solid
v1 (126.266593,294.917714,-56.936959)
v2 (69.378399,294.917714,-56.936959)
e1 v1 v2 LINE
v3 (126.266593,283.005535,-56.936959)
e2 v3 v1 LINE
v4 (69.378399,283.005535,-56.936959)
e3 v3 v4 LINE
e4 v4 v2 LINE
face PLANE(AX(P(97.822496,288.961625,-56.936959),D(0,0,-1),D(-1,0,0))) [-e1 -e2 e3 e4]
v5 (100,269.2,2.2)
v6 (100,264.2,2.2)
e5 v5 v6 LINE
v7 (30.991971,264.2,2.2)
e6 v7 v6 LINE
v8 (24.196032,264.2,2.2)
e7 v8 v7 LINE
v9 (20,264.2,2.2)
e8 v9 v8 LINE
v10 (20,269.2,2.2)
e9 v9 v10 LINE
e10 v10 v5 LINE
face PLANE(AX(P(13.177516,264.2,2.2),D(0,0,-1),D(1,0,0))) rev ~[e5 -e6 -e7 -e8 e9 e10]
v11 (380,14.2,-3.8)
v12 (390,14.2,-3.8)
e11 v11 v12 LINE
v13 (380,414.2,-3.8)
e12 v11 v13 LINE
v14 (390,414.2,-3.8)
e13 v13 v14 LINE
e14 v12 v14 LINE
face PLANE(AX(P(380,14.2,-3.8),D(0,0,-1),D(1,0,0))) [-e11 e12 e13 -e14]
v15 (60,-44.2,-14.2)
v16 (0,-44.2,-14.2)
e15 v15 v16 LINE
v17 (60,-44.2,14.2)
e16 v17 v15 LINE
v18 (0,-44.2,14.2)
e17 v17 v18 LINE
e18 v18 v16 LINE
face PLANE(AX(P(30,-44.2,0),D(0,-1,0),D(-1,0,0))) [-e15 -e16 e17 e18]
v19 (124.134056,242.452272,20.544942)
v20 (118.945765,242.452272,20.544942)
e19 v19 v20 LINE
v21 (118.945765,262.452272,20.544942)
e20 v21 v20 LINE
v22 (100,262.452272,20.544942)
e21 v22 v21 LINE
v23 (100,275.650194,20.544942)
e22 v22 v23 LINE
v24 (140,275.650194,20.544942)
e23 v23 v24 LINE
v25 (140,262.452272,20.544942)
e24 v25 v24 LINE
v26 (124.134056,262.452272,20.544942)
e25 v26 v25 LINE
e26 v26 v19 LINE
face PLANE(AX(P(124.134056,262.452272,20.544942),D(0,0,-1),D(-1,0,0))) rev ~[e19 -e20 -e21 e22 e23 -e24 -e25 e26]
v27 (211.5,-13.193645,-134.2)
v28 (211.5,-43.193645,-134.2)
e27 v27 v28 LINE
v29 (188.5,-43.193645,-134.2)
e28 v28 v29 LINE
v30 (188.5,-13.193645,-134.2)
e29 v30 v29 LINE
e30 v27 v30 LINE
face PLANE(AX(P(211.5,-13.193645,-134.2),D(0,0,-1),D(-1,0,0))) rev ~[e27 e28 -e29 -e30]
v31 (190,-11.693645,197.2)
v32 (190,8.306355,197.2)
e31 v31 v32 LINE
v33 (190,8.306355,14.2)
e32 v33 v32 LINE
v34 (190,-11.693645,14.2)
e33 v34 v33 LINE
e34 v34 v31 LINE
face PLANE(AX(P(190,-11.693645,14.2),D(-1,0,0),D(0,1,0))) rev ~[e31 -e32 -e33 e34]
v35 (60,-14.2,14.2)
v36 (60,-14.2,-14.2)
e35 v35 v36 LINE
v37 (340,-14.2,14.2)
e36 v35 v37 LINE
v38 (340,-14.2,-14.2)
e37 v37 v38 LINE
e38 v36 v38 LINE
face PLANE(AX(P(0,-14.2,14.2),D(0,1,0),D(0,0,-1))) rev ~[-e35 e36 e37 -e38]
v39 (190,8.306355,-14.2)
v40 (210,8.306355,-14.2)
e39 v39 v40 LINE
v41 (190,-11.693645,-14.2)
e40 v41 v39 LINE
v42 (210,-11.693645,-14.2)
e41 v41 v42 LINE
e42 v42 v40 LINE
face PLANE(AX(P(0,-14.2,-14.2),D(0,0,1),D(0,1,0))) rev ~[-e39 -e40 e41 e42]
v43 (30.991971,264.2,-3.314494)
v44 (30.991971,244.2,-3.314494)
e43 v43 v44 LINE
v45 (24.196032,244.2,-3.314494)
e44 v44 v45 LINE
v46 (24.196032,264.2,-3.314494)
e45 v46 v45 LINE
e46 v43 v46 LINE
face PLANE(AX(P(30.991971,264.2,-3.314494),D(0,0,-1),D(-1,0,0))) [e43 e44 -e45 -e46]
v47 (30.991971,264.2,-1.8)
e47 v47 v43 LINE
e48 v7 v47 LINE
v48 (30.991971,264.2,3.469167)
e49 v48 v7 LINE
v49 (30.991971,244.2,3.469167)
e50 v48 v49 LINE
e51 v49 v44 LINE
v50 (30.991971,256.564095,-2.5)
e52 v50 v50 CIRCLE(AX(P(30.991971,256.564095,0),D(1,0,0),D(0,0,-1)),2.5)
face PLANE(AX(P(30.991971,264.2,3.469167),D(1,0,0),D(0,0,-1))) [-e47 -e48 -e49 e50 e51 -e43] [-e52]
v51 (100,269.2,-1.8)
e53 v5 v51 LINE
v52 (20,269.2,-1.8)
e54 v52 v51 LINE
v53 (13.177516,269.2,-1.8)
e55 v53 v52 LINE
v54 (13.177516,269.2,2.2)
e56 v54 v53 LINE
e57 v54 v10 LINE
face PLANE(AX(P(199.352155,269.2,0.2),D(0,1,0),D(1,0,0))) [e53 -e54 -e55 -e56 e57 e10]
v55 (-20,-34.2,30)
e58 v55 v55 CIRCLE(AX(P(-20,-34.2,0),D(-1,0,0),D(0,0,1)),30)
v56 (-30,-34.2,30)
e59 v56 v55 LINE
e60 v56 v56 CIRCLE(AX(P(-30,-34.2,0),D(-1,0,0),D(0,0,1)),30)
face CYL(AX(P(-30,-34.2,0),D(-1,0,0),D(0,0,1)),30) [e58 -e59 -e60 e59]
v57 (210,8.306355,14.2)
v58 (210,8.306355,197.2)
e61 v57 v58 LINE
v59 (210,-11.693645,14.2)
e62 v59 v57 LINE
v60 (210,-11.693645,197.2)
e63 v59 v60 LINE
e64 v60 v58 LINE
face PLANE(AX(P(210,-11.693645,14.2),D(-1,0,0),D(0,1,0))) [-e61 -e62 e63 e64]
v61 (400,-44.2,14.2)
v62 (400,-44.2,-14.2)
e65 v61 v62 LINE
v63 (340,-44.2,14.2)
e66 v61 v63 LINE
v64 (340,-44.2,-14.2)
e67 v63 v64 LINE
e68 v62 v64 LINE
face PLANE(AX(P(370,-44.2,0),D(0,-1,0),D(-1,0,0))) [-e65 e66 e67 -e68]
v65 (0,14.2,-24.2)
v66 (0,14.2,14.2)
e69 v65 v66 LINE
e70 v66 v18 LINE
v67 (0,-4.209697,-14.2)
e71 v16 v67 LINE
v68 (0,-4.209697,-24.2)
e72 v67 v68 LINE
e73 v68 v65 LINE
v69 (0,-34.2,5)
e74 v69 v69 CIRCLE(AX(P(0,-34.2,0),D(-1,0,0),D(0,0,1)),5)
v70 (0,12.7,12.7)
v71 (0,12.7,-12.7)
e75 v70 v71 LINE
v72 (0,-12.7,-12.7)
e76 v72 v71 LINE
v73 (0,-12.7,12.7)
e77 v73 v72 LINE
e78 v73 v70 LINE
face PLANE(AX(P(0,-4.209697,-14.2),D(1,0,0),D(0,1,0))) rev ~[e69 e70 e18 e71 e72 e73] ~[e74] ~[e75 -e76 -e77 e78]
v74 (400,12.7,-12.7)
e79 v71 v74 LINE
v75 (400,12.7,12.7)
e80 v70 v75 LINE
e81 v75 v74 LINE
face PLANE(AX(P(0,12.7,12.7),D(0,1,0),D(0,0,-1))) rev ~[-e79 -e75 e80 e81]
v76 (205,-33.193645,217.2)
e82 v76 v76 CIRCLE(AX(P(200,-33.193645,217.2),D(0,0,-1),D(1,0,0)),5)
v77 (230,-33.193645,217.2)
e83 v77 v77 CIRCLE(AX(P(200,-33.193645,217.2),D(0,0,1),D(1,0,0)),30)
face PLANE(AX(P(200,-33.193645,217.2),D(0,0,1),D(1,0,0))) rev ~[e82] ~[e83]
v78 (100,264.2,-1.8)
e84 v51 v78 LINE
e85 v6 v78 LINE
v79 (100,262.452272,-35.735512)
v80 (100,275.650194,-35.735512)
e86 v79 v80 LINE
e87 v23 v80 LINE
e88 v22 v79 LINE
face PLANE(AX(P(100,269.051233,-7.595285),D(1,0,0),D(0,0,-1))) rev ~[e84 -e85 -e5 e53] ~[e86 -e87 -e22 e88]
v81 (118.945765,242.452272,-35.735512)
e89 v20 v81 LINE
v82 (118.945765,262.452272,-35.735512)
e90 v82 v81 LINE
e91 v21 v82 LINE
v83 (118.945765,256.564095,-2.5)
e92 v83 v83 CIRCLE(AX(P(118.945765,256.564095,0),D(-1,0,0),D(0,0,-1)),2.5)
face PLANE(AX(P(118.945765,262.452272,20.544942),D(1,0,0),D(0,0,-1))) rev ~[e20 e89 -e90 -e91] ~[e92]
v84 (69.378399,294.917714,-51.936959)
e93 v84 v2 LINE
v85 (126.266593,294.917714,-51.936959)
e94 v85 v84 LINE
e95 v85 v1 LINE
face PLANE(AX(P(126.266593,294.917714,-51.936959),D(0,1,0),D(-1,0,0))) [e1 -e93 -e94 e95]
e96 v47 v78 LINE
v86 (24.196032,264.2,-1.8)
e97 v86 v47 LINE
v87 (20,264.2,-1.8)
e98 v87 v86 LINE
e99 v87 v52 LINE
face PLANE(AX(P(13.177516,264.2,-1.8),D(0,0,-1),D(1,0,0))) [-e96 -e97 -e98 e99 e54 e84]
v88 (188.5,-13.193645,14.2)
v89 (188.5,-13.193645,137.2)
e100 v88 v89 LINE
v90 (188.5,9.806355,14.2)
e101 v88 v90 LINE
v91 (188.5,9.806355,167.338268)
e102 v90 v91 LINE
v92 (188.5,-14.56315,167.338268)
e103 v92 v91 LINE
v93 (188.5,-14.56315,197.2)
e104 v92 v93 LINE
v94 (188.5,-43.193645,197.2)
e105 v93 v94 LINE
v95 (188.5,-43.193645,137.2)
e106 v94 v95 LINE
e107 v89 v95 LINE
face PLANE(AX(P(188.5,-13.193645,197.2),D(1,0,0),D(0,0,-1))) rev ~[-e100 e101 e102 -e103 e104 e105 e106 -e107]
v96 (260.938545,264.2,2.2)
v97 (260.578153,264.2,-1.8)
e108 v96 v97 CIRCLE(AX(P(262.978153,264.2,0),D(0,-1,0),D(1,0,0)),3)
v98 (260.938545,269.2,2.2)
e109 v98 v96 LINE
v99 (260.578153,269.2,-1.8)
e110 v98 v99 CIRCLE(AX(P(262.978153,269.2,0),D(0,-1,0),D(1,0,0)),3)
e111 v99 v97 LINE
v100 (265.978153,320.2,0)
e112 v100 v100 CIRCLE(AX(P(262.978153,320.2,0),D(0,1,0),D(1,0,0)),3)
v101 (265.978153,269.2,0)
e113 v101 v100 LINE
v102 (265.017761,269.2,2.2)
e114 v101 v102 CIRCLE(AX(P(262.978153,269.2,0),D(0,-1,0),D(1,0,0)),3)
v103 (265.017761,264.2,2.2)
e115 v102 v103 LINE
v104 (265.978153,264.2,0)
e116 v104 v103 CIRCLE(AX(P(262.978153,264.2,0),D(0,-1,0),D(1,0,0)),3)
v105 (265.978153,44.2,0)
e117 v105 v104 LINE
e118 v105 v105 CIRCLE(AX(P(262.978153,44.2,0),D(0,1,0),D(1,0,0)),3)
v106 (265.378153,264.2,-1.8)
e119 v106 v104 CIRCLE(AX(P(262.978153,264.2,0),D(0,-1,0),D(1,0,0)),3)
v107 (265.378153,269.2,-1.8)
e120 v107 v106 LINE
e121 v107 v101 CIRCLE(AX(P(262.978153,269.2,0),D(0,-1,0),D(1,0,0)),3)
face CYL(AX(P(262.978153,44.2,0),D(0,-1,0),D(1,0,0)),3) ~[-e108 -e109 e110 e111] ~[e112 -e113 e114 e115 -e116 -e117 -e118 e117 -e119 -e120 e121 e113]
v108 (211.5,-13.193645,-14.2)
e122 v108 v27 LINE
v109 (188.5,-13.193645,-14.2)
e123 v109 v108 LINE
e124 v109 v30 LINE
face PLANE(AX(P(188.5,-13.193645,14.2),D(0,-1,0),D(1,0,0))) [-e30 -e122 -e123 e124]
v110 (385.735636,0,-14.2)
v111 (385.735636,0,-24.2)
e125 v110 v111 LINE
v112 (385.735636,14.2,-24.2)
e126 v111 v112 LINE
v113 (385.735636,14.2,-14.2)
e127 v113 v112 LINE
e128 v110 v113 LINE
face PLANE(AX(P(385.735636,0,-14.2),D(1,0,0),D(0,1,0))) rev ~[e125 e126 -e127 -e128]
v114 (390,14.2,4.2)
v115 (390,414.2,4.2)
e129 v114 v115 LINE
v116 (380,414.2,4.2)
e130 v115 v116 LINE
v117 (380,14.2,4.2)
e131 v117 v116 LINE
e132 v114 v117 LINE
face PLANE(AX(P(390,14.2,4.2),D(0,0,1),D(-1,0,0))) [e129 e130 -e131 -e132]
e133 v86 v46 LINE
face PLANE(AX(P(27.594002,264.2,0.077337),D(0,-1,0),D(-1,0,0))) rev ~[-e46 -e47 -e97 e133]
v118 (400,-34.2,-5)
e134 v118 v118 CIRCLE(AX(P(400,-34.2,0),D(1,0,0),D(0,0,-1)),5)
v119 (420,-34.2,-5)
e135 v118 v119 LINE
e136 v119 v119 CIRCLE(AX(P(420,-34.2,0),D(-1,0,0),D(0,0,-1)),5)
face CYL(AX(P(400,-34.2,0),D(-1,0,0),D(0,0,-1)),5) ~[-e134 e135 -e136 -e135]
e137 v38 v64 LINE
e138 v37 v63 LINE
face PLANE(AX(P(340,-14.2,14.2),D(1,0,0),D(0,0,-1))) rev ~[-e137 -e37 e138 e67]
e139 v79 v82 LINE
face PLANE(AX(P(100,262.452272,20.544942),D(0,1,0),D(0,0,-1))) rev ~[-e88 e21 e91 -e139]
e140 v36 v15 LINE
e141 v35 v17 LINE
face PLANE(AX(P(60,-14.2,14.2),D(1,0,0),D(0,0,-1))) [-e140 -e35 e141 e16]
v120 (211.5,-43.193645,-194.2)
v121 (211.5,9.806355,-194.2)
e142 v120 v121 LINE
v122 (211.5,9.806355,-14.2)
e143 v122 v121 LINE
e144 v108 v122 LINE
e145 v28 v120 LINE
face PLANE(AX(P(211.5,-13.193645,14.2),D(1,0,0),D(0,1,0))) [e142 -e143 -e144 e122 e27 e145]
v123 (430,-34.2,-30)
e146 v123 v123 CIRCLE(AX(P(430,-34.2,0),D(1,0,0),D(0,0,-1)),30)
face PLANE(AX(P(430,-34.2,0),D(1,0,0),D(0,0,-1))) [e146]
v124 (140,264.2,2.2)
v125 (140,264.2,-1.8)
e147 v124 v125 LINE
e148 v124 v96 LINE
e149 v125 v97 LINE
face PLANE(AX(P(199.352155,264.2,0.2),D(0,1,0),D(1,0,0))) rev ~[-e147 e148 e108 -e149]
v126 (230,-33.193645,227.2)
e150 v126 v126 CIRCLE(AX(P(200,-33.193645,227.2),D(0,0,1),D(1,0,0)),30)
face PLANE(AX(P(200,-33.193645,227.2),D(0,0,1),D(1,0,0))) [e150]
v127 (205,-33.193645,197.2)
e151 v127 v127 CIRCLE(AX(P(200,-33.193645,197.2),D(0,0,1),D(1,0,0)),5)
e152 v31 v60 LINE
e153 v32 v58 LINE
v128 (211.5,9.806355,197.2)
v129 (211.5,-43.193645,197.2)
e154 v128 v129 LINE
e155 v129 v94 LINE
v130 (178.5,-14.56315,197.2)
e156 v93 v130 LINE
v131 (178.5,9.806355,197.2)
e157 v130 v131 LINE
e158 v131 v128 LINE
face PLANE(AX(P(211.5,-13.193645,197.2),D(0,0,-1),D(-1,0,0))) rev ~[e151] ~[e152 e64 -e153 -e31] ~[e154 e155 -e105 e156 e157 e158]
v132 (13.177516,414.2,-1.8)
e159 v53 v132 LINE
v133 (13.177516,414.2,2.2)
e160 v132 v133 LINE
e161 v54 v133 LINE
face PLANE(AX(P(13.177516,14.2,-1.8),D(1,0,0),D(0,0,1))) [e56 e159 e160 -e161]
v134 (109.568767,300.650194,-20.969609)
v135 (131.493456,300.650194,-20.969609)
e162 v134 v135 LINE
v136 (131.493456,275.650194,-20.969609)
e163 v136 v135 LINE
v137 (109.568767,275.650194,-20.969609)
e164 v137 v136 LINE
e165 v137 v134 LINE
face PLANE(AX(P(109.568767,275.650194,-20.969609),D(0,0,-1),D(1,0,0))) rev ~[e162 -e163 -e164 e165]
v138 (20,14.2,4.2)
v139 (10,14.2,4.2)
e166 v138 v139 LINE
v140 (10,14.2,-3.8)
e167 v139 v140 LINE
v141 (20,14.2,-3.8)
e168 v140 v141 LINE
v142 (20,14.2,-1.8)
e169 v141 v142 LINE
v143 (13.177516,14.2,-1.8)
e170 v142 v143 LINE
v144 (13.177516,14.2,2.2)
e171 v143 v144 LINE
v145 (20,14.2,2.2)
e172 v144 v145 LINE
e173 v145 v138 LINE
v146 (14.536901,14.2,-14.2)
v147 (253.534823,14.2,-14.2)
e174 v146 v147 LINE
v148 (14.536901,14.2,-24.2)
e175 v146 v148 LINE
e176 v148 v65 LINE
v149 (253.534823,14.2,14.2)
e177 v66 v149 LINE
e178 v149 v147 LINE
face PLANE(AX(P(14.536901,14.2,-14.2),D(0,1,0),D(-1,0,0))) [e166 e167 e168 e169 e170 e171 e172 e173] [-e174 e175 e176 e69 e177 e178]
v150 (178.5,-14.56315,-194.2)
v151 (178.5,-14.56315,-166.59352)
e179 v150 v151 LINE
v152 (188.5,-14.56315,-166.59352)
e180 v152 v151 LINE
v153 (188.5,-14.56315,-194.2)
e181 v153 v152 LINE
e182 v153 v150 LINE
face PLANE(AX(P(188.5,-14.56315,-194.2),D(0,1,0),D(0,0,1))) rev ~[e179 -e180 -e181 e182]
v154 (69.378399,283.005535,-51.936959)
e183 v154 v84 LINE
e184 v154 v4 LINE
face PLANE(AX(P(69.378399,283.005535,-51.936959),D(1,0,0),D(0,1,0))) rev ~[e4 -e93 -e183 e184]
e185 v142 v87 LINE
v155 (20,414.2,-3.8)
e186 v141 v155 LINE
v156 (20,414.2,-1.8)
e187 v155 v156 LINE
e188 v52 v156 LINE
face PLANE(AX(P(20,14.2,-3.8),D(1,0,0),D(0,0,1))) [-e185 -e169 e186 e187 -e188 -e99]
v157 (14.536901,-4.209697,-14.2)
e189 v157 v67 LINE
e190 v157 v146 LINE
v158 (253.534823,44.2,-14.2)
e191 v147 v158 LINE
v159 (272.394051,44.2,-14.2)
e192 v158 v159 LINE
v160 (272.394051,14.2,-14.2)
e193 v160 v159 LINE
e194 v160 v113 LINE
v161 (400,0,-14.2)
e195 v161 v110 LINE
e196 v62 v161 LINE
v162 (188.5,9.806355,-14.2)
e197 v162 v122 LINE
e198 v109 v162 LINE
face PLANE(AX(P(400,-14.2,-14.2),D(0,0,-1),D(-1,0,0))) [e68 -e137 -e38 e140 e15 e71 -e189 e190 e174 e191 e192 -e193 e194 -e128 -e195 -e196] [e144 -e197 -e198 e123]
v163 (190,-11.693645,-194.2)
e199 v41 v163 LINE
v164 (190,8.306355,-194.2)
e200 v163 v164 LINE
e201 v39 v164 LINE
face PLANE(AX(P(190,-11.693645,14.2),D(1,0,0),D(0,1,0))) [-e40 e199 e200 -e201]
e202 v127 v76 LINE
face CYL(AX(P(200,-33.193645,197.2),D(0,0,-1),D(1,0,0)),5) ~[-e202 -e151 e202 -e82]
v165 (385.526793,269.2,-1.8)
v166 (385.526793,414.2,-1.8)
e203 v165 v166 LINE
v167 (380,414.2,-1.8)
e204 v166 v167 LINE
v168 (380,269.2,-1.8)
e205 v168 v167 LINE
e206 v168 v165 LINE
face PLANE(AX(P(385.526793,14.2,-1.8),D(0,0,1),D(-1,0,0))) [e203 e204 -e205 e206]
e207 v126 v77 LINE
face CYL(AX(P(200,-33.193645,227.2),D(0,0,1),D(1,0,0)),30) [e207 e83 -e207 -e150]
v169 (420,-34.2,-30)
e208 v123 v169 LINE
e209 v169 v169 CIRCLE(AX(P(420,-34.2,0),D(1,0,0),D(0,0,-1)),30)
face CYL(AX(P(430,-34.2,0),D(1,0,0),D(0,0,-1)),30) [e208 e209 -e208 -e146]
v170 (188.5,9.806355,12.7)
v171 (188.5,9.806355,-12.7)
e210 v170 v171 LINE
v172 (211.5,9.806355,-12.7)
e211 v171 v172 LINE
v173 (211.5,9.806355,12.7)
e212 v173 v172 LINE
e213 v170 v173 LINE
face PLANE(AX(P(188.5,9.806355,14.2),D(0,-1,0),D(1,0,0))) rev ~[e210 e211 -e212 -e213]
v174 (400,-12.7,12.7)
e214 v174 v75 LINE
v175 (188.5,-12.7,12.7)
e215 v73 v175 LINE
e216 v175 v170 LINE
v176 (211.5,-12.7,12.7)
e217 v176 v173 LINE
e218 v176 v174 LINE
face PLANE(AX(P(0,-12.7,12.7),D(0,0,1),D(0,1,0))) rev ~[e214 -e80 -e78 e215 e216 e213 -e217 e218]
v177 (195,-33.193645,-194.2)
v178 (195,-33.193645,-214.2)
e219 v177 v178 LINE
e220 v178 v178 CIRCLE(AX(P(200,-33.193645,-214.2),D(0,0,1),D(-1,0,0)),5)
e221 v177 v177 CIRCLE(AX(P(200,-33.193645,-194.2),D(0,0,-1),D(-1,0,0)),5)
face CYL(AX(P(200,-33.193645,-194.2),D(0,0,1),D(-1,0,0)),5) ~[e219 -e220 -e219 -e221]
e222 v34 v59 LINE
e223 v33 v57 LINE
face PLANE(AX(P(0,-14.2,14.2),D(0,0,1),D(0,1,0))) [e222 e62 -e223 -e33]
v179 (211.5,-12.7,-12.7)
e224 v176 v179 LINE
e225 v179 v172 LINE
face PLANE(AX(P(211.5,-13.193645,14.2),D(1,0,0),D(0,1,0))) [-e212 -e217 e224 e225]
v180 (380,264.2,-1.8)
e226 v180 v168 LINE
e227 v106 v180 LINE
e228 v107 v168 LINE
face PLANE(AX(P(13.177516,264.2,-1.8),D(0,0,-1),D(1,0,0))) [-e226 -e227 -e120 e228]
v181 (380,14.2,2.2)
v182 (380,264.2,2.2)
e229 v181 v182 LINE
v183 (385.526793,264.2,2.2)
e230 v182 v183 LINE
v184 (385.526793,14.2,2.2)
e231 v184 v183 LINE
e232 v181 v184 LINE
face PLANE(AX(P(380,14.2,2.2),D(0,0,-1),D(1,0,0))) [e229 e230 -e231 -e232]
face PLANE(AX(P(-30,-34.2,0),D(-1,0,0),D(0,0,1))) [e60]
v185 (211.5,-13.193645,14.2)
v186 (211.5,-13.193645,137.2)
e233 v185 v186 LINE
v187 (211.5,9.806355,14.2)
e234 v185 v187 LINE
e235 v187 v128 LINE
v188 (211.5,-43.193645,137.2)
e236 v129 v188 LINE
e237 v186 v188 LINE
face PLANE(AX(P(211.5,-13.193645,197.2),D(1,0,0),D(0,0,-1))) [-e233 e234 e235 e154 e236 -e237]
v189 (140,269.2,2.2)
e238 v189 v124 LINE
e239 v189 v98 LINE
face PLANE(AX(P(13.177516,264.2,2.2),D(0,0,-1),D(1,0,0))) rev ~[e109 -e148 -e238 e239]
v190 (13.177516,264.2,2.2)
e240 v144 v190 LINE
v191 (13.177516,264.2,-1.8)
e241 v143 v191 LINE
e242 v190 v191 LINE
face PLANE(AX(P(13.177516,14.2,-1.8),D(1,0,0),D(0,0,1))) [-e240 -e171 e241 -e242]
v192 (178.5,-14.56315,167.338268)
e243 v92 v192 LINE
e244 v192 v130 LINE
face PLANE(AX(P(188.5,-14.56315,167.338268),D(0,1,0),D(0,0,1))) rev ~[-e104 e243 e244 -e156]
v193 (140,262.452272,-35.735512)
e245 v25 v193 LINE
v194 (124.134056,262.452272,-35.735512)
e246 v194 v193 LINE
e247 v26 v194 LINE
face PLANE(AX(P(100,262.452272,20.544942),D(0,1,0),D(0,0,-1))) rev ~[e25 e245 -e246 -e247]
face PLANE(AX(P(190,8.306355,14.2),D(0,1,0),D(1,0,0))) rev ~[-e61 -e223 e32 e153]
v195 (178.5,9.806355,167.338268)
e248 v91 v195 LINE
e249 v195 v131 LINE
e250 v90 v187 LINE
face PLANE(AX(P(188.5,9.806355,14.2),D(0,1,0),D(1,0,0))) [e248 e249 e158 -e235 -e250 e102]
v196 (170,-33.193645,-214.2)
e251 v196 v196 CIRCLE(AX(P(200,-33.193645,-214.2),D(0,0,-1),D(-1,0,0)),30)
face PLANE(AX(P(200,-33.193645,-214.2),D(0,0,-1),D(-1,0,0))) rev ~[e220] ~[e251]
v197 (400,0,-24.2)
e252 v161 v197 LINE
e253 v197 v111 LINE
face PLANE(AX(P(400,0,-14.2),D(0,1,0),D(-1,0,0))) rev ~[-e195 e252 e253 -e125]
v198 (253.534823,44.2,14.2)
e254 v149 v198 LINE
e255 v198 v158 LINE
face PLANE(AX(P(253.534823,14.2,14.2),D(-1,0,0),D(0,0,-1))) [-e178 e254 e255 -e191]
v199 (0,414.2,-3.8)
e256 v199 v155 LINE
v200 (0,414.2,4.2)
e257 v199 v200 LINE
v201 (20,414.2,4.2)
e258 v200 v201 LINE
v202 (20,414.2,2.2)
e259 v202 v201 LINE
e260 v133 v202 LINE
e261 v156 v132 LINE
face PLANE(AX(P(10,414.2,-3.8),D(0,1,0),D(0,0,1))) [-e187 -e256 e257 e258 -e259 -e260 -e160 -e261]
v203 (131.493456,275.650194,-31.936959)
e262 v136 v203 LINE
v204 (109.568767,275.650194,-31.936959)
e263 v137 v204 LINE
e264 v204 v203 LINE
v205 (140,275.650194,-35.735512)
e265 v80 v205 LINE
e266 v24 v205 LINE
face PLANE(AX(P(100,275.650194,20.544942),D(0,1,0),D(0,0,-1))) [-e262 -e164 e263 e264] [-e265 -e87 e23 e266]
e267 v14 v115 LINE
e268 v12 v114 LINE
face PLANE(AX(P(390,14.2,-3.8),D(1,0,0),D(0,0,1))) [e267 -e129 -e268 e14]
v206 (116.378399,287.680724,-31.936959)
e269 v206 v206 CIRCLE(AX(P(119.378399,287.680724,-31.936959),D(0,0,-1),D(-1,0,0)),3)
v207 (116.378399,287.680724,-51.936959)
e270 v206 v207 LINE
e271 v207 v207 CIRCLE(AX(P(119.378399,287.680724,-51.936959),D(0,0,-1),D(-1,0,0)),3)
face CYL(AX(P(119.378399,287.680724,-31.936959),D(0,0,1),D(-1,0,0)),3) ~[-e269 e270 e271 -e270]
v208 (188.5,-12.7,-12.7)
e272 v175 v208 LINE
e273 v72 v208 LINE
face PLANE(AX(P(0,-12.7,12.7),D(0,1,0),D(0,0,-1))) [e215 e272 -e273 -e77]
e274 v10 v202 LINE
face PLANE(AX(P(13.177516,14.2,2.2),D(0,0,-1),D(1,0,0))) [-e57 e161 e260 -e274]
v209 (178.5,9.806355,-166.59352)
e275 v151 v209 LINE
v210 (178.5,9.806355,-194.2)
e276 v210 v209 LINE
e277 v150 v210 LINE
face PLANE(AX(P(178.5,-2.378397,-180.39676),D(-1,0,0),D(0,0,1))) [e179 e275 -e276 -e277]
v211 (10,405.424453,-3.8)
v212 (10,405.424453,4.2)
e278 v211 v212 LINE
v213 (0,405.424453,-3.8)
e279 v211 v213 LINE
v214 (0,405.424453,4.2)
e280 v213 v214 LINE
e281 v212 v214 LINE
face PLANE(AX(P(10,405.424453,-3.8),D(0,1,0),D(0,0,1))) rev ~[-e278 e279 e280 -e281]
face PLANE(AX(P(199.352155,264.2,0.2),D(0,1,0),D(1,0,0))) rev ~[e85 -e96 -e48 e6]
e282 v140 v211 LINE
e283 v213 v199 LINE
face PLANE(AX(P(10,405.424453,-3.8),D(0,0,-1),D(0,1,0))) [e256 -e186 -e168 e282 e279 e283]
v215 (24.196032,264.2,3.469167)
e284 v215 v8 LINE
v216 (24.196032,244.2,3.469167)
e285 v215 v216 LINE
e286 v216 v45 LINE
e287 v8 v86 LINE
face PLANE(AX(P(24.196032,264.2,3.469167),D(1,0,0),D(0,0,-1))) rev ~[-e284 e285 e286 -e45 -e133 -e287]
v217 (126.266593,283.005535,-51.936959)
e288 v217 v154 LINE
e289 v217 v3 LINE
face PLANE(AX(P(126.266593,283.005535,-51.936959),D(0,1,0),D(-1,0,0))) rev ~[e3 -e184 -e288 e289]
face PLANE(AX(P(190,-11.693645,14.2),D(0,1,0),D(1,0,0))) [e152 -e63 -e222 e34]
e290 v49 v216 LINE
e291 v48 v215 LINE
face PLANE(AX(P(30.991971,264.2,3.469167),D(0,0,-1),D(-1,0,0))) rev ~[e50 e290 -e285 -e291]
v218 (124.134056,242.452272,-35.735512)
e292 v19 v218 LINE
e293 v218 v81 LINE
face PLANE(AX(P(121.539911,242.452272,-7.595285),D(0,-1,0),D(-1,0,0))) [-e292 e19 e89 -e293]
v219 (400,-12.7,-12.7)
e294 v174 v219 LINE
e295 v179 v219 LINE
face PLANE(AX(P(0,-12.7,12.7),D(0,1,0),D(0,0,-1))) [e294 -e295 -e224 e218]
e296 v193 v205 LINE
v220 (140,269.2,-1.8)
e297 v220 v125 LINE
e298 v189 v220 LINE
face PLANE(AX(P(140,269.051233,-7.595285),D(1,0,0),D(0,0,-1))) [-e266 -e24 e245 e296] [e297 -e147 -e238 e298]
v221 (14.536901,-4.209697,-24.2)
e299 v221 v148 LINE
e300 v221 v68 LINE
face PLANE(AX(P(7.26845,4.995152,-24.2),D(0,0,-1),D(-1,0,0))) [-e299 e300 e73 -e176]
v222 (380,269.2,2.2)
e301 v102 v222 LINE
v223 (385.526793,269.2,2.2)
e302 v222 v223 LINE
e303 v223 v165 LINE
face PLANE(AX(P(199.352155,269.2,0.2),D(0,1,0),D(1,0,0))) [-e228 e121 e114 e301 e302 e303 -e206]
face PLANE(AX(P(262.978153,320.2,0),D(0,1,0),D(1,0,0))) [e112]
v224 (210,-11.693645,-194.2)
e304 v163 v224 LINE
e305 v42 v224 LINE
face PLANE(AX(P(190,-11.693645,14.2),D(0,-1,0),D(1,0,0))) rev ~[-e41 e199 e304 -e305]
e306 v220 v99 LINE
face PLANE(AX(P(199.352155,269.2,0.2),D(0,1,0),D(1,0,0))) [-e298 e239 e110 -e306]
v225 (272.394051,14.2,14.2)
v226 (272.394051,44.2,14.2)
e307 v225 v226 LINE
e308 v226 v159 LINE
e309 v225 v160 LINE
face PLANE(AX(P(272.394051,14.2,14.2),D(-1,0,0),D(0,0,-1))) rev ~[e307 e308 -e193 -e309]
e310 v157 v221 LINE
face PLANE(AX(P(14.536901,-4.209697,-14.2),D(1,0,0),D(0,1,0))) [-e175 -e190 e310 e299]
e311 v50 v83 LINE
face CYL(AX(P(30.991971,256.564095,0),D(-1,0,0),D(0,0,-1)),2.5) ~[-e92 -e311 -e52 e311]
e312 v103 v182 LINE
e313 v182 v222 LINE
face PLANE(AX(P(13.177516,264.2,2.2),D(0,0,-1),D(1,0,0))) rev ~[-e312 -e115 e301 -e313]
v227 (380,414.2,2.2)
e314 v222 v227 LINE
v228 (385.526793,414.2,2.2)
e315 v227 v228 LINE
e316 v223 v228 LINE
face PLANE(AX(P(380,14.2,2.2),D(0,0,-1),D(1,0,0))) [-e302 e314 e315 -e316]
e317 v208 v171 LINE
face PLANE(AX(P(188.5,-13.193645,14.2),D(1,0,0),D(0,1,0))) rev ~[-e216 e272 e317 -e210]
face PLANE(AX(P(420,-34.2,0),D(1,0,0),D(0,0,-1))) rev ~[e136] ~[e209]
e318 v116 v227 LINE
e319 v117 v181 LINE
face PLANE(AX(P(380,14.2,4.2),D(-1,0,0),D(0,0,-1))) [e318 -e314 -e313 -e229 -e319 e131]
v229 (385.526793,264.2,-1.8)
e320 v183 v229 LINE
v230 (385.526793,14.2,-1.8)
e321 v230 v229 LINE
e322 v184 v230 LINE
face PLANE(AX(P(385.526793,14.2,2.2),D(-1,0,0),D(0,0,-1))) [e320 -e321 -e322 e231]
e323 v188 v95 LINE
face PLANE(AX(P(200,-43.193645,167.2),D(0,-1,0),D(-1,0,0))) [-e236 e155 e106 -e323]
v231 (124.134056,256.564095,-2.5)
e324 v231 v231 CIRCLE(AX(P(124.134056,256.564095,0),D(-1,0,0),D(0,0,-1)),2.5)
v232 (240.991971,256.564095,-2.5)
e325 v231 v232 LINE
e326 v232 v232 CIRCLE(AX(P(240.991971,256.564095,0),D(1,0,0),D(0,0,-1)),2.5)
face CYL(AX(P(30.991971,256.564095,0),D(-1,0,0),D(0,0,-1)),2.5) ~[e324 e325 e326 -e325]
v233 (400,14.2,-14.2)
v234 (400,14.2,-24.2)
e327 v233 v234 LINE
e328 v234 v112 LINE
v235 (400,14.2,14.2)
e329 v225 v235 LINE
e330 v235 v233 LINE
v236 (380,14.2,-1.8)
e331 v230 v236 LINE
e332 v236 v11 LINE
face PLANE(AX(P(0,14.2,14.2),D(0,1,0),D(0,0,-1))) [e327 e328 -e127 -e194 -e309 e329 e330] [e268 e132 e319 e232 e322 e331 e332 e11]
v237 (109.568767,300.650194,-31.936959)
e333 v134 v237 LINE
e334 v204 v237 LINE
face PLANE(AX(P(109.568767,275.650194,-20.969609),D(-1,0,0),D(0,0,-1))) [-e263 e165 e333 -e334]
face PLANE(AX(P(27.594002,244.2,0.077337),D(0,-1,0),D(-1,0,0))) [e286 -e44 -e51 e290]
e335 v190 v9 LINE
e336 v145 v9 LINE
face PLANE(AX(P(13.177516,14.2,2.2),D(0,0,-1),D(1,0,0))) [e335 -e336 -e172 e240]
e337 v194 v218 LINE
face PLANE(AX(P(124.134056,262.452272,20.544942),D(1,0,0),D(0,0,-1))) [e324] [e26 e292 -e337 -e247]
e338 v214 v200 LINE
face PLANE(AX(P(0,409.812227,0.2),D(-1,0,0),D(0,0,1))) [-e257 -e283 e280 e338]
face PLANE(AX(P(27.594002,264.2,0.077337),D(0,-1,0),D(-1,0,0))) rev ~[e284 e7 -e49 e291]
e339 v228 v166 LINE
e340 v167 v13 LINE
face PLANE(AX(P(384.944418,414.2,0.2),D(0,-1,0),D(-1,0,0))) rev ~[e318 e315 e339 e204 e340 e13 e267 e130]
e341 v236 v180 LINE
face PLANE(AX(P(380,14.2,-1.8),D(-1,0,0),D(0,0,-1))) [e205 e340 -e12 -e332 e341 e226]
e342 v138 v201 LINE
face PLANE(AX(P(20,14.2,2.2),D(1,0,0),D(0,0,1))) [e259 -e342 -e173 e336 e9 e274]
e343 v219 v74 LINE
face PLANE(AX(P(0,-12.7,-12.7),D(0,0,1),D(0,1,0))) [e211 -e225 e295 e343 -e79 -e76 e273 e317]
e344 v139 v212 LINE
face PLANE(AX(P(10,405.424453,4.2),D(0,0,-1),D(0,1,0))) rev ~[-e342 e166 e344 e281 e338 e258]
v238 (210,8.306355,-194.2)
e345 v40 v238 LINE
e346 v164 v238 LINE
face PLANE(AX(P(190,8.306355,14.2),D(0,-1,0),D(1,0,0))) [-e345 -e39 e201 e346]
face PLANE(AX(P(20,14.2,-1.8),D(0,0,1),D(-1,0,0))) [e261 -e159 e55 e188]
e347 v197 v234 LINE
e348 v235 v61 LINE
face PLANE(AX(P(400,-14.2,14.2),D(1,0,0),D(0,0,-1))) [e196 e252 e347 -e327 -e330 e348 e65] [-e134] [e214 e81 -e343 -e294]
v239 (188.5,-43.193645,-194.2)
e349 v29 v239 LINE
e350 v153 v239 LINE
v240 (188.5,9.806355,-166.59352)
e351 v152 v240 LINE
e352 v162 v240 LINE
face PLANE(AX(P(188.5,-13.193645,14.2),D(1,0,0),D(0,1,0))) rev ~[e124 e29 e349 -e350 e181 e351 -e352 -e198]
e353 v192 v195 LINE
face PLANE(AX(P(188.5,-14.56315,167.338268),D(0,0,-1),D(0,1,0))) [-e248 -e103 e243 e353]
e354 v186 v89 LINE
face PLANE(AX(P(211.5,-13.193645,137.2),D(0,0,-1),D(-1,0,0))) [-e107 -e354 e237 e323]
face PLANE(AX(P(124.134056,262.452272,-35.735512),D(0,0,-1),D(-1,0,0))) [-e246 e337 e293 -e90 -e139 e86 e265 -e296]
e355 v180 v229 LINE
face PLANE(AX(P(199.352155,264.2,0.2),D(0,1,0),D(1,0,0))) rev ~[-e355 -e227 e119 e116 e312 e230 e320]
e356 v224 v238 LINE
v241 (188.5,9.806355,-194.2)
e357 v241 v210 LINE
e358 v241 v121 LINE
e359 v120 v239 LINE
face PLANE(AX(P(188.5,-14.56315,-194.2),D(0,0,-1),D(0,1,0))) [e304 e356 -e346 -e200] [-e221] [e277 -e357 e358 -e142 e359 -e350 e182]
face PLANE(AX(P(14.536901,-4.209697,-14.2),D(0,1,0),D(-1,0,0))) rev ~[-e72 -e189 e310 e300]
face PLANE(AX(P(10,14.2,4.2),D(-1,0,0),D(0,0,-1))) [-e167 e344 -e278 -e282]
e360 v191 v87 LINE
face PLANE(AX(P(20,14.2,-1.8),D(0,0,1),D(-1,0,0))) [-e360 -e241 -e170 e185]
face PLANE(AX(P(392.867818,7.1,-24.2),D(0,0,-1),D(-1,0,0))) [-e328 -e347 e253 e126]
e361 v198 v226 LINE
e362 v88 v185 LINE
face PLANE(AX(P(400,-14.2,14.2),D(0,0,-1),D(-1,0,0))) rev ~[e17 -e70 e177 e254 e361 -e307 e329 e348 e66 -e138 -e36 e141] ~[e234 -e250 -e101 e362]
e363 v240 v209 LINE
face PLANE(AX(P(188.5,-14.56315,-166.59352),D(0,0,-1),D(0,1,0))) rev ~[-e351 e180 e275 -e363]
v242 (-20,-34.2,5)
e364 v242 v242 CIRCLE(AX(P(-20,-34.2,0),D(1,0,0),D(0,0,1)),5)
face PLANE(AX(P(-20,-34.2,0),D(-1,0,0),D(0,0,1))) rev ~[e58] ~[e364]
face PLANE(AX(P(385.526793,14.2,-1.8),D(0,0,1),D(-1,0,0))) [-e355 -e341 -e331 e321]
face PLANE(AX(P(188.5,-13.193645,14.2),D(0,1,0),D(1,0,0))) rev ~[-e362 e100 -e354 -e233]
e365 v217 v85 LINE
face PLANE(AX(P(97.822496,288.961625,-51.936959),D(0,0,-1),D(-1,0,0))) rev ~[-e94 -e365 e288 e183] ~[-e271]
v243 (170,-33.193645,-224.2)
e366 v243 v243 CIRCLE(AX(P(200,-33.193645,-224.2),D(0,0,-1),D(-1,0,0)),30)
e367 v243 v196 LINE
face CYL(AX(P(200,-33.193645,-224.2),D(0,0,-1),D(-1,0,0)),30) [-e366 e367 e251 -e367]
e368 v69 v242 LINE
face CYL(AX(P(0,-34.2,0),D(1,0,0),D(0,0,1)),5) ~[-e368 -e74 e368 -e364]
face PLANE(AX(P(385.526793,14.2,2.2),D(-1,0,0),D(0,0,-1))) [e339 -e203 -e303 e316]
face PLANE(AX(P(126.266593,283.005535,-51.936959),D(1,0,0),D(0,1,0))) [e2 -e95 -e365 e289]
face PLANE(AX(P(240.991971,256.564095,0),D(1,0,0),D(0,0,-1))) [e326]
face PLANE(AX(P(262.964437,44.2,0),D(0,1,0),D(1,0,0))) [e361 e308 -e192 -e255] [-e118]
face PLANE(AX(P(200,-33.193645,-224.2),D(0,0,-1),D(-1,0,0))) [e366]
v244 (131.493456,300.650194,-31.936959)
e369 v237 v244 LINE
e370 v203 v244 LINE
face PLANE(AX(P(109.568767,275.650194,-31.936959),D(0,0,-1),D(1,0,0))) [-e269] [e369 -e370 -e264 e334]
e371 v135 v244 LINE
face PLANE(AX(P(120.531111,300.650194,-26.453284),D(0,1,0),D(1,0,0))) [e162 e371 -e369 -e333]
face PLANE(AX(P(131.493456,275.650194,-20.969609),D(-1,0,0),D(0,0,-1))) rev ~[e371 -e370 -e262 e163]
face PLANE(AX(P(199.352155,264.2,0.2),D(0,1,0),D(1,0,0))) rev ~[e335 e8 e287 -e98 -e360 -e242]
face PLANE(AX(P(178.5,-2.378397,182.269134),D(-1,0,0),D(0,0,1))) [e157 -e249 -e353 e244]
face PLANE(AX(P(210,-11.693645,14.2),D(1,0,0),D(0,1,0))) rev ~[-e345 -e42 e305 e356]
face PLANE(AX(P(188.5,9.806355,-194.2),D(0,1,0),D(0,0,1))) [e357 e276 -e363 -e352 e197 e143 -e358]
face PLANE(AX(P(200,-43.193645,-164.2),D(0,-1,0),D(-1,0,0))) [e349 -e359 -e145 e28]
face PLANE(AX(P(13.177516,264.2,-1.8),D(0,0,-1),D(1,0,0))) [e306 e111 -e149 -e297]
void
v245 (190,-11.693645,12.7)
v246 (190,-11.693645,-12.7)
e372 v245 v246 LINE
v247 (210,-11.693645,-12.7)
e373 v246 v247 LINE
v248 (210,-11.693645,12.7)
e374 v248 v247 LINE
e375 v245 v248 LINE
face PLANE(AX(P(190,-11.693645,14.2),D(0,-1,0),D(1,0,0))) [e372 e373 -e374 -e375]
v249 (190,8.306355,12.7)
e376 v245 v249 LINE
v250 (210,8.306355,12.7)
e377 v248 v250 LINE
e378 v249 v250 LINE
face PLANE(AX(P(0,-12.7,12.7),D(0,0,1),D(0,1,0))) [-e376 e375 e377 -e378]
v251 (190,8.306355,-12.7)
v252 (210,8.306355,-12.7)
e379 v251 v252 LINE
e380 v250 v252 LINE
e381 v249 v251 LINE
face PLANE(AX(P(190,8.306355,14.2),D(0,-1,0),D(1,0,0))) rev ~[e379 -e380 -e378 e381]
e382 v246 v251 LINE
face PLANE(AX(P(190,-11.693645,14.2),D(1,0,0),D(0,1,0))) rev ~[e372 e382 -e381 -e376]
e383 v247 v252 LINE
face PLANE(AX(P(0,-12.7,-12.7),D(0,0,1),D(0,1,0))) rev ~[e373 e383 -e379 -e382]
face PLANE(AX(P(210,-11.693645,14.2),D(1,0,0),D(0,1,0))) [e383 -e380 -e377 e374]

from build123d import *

# Parameters (mm, degrees)
SKETCH1_W                = 28.4
SKETCH1_H                = 28.4
SKETCH1_W_2              = 25.4
SKETCH1_H_2              = 25.4
EXTRUDE_THIN1_DEPTH      = 400
SKETCH2_W                = 23
SKETCH2_H                = 23
SKETCH2_W_2              = 20
SKETCH2_H_2              = 20
EXTRUDE_THIN2_DEPTH      = 183
EXTRUDE_THIN2_DEPTH_BACK = 208.4
SKETCH3_W                = 60
SKETCH3_H                = 28.4
BOSS_EXTRUDE1_DEPTH      = 30
SKETCH4_W                = 23
SKETCH4_H                = 60
BOSS_EXTRUDE2_DEPTH      = 30
SKETCH5_R                = 5
BOSS_EXTRUDE3_DEPTH      = 30
SKETCH6_R                = 5
BOSS_EXTRUDE4_DEPTH      = 30
SKETCH7_R                = 5
BOSS_EXTRUDE5_DEPTH      = 30
SKETCH8_R                = 5
BOSS_EXTRUDE6_DEPTH      = 30
BOSS_EXTRUDE7_DEPTH      = 400
SKETCH10_W               = 372.349277715
SKETCH10_H               = 4
BOSS_EXTRUDE8_DEPTH      = 5
SKETCH24_R               = 30
BOSS_EXTRUDE20_DEPTH     = 10
SKETCH25_R               = 30
BOSS_EXTRUDE21_DEPTH     = 10
SKETCH26_R               = 30
BOSS_EXTRUDE22_DEPTH     = 10
SKETCH27_R               = 30
BOSS_EXTRUDE23_DEPTH     = 10
SKETCH28_W               = 18.859227369
SKETCH28_H               = 28.4
BOSS_EXTRUDE24_DEPTH     = 30
SKETCH29_R               = 3
BOSS_EXTRUDE25_DEPTH     = 276
SKETCH30_W               = 56.280454212
SKETCH30_H               = 13.197921903
BOSS_EXTRUDE26_DEPTH     = 40
SKETCH31_W               = 6.795939819
SKETCH31_H               = 6.783661409
BOSS_EXTRUDE27_DEPTH     = 20
SKETCH32_R               = 2.5
BOSS_EXTRUDE28_DEPTH     = 210
SKETCH33_W               = 5.188291065
SKETCH33_H               = 56.280454212
BOSS_EXTRUDE29_DEPTH     = 20
SKETCH34_W               = 21.924689073
SKETCH34_H               = 10.967349769
BOSS_EXTRUDE30_DEPTH     = 25
SKETCH35_R               = 3
BOSS_EXTRUDE31_DEPTH     = 20
SKETCH36_W               = 56.888194478
SKETCH36_H               = 11.912179608
BOSS_EXTRUDE32_DEPTH     = 5
SKETCH37_W               = 8
SKETCH37_H               = 8.77554695
BOSS_EXTRUDE33_DEPTH     = 10
SKETCH38_W               = 27.606480259
SKETCH38_H               = 24.3695053
SKETCH38_W_2             = 29.861732126
BOSS_EXTRUDE34_DEPTH     = 10
SKETCH39_W               = 14.536900962
SKETCH39_H               = 18.409696894
SKETCH39_W_2             = 14.264364069
SKETCH39_H_2             = 14.2
BOSS_EXTRUDE35_DEPTH     = 10


with BuildPart() as part:
    # Sketch1 → Extrude-Thin1 (new body)
    with BuildSketch(Plane(origin=(0, 0, 0), x_dir=(0, 0, -1), z_dir=(1, 0, 0))):
        Rectangle(SKETCH1_W, SKETCH1_H)
        Rectangle(SKETCH1_W_2, SKETCH1_H_2, mode=Mode.SUBTRACT)
    extrude(amount=EXTRUDE_THIN1_DEPTH)

    # Sketch2 → Extrude-Thin2 (add, two sides)
    with BuildSketch(Plane.XY.offset(14.2)) as extrude_thin2_sk:
        with Locations((200, -1.693644648)):
            Rectangle(SKETCH2_W, SKETCH2_H)
        with Locations((200, -1.693644648)):
            Rectangle(SKETCH2_W_2, SKETCH2_H_2, mode=Mode.SUBTRACT)
    extrude(amount=EXTRUDE_THIN2_DEPTH)
    extrude(extrude_thin2_sk.sketch, amount=-EXTRUDE_THIN2_DEPTH_BACK)

    # Sketch3 → Boss-Extrude1 (add)
    with BuildSketch(Plane(origin=(0, -14.2, 0), x_dir=(-1, 0, 0), z_dir=(0, -1, 0))):
        with Locations((-370, 0)):
            Rectangle(SKETCH3_W, SKETCH3_H)
        with Locations((-30, 0)):
            Rectangle(SKETCH3_W, SKETCH3_H)
    extrude(amount=BOSS_EXTRUDE1_DEPTH)

    # Sketch4 → Boss-Extrude2 (add)
    with BuildSketch(Plane(origin=(0, -13.193644648, 0), x_dir=(-1, 0, 0), z_dir=(0, -1, 0))):
        with Locations((-200, -167.2)):
            Rectangle(SKETCH4_W, SKETCH4_H)
        with Locations((-200, 164.2)):
            Rectangle(SKETCH4_W, SKETCH4_H)
    extrude(amount=BOSS_EXTRUDE2_DEPTH)

    # Sketch5 → Boss-Extrude3 (add)
    with BuildSketch(Plane(origin=(400, 0, 0), x_dir=(0, 0, -1), z_dir=(1, 0, 0))):
        with Locations((0, -34.2)):
            Circle(SKETCH5_R)
    extrude(amount=BOSS_EXTRUDE3_DEPTH)

    # Sketch6 → Boss-Extrude4 (add)
    with BuildSketch(Plane(origin=(0, 0, -194.2), x_dir=(-1, 0, 0), z_dir=(0, 0, -1))):
        with Locations((-200, -33.193644648)):
            Circle(SKETCH6_R)
    extrude(amount=BOSS_EXTRUDE4_DEPTH)

    # Sketch7 → Boss-Extrude5 (add)
    with BuildSketch(Plane.ZY):
        with Locations((0, -34.2)):
            Circle(SKETCH7_R)
    extrude(amount=BOSS_EXTRUDE5_DEPTH)

    # Sketch8 → Boss-Extrude6 (add)
    with BuildSketch(Plane.XY.offset(197.2)):
        with Locations((200, -33.193644648)):
            Circle(SKETCH8_R)
    extrude(amount=BOSS_EXTRUDE6_DEPTH)

    # Sketch9 → Boss-Extrude7 (add)
    with BuildSketch(Plane(origin=(0, 14.2, 0), x_dir=(1, 0, 0), z_dir=(0, 1, 0))):
        Polygon((10, 3.8), (20, 3.8), (20, 1.8), (13.177515759, 1.8), (13.177515759, -2.2), (20, -2.2), (20, -4.2), (10, -4.2), align=None)
        Polygon((380, 3.8), (390, 3.8), (390, -4.2), (380, -4.2), (380, -2.2), (385.526793474, -2.2), (385.526793474, 1.8), (380, 1.8), align=None)
    extrude(amount=BOSS_EXTRUDE7_DEPTH)

    # Sketch10 → Boss-Extrude8 (add)
    with BuildSketch(Plane(origin=(0, 264.2, 0), x_dir=(1, 0, 0), z_dir=(0, 1, 0))):
        with Locations((199.352154617, -0.2)):
            Rectangle(SKETCH10_W, SKETCH10_H)
    extrude(amount=BOSS_EXTRUDE8_DEPTH)

    # Sketch24 → Boss-Extrude20 (add)
    with BuildSketch(Plane(origin=(0, 0, -224.2), x_dir=(-1, 0, 0), z_dir=(0, 0, -1))):
        with Locations((-200, -33.193644648)):
            Circle(SKETCH24_R)
    extrude(amount=-BOSS_EXTRUDE20_DEPTH)

    # Sketch25 → Boss-Extrude21 (add)
    with BuildSketch(Plane.ZY.offset(30)):
        with Locations((0, -34.2)):
            Circle(SKETCH25_R)
    extrude(amount=-BOSS_EXTRUDE21_DEPTH)

    # Sketch26 → Boss-Extrude22 (add)
    with BuildSketch(Plane.XY.offset(227.2)):
        with Locations((200, -33.193644648)):
            Circle(SKETCH26_R)
    extrude(amount=-BOSS_EXTRUDE22_DEPTH)

    # Sketch27 → Boss-Extrude23 (add)
    with BuildSketch(Plane(origin=(430, 0, 0), x_dir=(0, 0, -1), z_dir=(1, 0, 0))):
        with Locations((0, -34.2)):
            Circle(SKETCH27_R)
    extrude(amount=-BOSS_EXTRUDE23_DEPTH)

    # Sketch28 → Boss-Extrude24 (add)
    with BuildSketch(Plane(origin=(0, 14.2, 0), x_dir=(1, 0, 0), z_dir=(0, 1, 0))):
        with Locations((262.964436909, 0)):
            Rectangle(SKETCH28_W, SKETCH28_H)
    extrude(amount=BOSS_EXTRUDE24_DEPTH)

    # Sketch29 → Boss-Extrude25 (add)
    with BuildSketch(Plane(origin=(0, 44.2, 0), x_dir=(1, 0, 0), z_dir=(0, 1, 0))):
        with Locations((262.978152894, 0)):
            Circle(SKETCH29_R)
    extrude(amount=BOSS_EXTRUDE25_DEPTH)

    # Sketch30 → Boss-Extrude26 (add)
    with BuildSketch(Plane(origin=(100, 0, 0), x_dir=(0, 0, -1), z_dir=(1, 0, 0))):
        with Locations((7.595285017, 269.051232914)):
            Rectangle(SKETCH30_W, SKETCH30_H)
    extrude(amount=BOSS_EXTRUDE26_DEPTH)

    # Sketch31 → Boss-Extrude27 (add)
    with BuildSketch(Plane(origin=(0, 264.2, 0), x_dir=(-1, 0, 0), z_dir=(0, -1, 0))):
        with Locations((-27.594001553, -0.077336563)):
            Rectangle(SKETCH31_W, SKETCH31_H)
    extrude(amount=BOSS_EXTRUDE27_DEPTH)

    # Sketch32 → Boss-Extrude28 (add)
    with BuildSketch(Plane(origin=(30.991971462, 0, 0), x_dir=(0, 0, -1), z_dir=(1, 0, 0))):
        with Locations((0, 256.564095002)):
            Circle(SKETCH32_R)
    extrude(amount=BOSS_EXTRUDE28_DEPTH)

    # Sketch33 → Boss-Extrude29 (add)
    with BuildSketch(Plane(origin=(0, 262.452271962, 0), x_dir=(-1, 0, 0), z_dir=(0, -1, 0))):
        with Locations((-121.53991064, 7.595285017)):
            Rectangle(SKETCH33_W, SKETCH33_H)
    extrude(amount=BOSS_EXTRUDE29_DEPTH)

    # Sketch34 → Boss-Extrude30 (add)
    with BuildSketch(Plane(origin=(0, 275.650193865, 0), x_dir=(1, 0, 0), z_dir=(0, 1, 0))):
        with Locations((120.531111369, 26.453283936)):
            Rectangle(SKETCH34_W, SKETCH34_H)
    extrude(amount=BOSS_EXTRUDE30_DEPTH)

    # Sketch35 → Boss-Extrude31 (add)
    with BuildSketch(Plane(origin=(0, 0, -31.93695882), x_dir=(-1, 0, 0), z_dir=(0, 0, -1))):
        with Locations((-119.378398528, 287.680723614)):
            Circle(SKETCH35_R)
    extrude(amount=BOSS_EXTRUDE31_DEPTH)

    # Sketch36 → Boss-Extrude32 (add)
    with BuildSketch(Plane(origin=(0, 0, -51.93695882), x_dir=(-1, 0, 0), z_dir=(0, 0, -1))):
        with Locations((-97.822495767, 288.961624672)):
            Rectangle(SKETCH36_W, SKETCH36_H)
    extrude(amount=BOSS_EXTRUDE32_DEPTH)

    # Sketch37 → Boss-Extrude33 (add)
    with BuildSketch(Plane.ZY.offset(-10)):
        with Locations((0.2, 409.812226525)):
            Rectangle(SKETCH37_W, SKETCH37_H)
    extrude(amount=BOSS_EXTRUDE33_DEPTH)

    # Sketch38 → Boss-Extrude34 (add)
    with BuildSketch(Plane.ZY.offset(-188.5)):
        with Locations((-180.396759871, -2.378397298)):
            Rectangle(SKETCH38_W, SKETCH38_H)
        with Locations((182.269133937, -2.378397298)):
            Rectangle(SKETCH38_W_2, SKETCH38_H)
    extrude(amount=BOSS_EXTRUDE34_DEPTH)

    # Sketch39 → Boss-Extrude35 (add)
    with BuildSketch(Plane(origin=(0, 0, -14.2), x_dir=(-1, 0, 0), z_dir=(0, 0, -1))):
        with Locations((-7.268450481, 4.995151553)):
            Rectangle(SKETCH39_W, SKETCH39_H)
        with Locations((-392.867817966, 7.1)):
            Rectangle(SKETCH39_W_2, SKETCH39_H_2)
    extrude(amount=BOSS_EXTRUDE35_DEPTH)


solid = part.part
